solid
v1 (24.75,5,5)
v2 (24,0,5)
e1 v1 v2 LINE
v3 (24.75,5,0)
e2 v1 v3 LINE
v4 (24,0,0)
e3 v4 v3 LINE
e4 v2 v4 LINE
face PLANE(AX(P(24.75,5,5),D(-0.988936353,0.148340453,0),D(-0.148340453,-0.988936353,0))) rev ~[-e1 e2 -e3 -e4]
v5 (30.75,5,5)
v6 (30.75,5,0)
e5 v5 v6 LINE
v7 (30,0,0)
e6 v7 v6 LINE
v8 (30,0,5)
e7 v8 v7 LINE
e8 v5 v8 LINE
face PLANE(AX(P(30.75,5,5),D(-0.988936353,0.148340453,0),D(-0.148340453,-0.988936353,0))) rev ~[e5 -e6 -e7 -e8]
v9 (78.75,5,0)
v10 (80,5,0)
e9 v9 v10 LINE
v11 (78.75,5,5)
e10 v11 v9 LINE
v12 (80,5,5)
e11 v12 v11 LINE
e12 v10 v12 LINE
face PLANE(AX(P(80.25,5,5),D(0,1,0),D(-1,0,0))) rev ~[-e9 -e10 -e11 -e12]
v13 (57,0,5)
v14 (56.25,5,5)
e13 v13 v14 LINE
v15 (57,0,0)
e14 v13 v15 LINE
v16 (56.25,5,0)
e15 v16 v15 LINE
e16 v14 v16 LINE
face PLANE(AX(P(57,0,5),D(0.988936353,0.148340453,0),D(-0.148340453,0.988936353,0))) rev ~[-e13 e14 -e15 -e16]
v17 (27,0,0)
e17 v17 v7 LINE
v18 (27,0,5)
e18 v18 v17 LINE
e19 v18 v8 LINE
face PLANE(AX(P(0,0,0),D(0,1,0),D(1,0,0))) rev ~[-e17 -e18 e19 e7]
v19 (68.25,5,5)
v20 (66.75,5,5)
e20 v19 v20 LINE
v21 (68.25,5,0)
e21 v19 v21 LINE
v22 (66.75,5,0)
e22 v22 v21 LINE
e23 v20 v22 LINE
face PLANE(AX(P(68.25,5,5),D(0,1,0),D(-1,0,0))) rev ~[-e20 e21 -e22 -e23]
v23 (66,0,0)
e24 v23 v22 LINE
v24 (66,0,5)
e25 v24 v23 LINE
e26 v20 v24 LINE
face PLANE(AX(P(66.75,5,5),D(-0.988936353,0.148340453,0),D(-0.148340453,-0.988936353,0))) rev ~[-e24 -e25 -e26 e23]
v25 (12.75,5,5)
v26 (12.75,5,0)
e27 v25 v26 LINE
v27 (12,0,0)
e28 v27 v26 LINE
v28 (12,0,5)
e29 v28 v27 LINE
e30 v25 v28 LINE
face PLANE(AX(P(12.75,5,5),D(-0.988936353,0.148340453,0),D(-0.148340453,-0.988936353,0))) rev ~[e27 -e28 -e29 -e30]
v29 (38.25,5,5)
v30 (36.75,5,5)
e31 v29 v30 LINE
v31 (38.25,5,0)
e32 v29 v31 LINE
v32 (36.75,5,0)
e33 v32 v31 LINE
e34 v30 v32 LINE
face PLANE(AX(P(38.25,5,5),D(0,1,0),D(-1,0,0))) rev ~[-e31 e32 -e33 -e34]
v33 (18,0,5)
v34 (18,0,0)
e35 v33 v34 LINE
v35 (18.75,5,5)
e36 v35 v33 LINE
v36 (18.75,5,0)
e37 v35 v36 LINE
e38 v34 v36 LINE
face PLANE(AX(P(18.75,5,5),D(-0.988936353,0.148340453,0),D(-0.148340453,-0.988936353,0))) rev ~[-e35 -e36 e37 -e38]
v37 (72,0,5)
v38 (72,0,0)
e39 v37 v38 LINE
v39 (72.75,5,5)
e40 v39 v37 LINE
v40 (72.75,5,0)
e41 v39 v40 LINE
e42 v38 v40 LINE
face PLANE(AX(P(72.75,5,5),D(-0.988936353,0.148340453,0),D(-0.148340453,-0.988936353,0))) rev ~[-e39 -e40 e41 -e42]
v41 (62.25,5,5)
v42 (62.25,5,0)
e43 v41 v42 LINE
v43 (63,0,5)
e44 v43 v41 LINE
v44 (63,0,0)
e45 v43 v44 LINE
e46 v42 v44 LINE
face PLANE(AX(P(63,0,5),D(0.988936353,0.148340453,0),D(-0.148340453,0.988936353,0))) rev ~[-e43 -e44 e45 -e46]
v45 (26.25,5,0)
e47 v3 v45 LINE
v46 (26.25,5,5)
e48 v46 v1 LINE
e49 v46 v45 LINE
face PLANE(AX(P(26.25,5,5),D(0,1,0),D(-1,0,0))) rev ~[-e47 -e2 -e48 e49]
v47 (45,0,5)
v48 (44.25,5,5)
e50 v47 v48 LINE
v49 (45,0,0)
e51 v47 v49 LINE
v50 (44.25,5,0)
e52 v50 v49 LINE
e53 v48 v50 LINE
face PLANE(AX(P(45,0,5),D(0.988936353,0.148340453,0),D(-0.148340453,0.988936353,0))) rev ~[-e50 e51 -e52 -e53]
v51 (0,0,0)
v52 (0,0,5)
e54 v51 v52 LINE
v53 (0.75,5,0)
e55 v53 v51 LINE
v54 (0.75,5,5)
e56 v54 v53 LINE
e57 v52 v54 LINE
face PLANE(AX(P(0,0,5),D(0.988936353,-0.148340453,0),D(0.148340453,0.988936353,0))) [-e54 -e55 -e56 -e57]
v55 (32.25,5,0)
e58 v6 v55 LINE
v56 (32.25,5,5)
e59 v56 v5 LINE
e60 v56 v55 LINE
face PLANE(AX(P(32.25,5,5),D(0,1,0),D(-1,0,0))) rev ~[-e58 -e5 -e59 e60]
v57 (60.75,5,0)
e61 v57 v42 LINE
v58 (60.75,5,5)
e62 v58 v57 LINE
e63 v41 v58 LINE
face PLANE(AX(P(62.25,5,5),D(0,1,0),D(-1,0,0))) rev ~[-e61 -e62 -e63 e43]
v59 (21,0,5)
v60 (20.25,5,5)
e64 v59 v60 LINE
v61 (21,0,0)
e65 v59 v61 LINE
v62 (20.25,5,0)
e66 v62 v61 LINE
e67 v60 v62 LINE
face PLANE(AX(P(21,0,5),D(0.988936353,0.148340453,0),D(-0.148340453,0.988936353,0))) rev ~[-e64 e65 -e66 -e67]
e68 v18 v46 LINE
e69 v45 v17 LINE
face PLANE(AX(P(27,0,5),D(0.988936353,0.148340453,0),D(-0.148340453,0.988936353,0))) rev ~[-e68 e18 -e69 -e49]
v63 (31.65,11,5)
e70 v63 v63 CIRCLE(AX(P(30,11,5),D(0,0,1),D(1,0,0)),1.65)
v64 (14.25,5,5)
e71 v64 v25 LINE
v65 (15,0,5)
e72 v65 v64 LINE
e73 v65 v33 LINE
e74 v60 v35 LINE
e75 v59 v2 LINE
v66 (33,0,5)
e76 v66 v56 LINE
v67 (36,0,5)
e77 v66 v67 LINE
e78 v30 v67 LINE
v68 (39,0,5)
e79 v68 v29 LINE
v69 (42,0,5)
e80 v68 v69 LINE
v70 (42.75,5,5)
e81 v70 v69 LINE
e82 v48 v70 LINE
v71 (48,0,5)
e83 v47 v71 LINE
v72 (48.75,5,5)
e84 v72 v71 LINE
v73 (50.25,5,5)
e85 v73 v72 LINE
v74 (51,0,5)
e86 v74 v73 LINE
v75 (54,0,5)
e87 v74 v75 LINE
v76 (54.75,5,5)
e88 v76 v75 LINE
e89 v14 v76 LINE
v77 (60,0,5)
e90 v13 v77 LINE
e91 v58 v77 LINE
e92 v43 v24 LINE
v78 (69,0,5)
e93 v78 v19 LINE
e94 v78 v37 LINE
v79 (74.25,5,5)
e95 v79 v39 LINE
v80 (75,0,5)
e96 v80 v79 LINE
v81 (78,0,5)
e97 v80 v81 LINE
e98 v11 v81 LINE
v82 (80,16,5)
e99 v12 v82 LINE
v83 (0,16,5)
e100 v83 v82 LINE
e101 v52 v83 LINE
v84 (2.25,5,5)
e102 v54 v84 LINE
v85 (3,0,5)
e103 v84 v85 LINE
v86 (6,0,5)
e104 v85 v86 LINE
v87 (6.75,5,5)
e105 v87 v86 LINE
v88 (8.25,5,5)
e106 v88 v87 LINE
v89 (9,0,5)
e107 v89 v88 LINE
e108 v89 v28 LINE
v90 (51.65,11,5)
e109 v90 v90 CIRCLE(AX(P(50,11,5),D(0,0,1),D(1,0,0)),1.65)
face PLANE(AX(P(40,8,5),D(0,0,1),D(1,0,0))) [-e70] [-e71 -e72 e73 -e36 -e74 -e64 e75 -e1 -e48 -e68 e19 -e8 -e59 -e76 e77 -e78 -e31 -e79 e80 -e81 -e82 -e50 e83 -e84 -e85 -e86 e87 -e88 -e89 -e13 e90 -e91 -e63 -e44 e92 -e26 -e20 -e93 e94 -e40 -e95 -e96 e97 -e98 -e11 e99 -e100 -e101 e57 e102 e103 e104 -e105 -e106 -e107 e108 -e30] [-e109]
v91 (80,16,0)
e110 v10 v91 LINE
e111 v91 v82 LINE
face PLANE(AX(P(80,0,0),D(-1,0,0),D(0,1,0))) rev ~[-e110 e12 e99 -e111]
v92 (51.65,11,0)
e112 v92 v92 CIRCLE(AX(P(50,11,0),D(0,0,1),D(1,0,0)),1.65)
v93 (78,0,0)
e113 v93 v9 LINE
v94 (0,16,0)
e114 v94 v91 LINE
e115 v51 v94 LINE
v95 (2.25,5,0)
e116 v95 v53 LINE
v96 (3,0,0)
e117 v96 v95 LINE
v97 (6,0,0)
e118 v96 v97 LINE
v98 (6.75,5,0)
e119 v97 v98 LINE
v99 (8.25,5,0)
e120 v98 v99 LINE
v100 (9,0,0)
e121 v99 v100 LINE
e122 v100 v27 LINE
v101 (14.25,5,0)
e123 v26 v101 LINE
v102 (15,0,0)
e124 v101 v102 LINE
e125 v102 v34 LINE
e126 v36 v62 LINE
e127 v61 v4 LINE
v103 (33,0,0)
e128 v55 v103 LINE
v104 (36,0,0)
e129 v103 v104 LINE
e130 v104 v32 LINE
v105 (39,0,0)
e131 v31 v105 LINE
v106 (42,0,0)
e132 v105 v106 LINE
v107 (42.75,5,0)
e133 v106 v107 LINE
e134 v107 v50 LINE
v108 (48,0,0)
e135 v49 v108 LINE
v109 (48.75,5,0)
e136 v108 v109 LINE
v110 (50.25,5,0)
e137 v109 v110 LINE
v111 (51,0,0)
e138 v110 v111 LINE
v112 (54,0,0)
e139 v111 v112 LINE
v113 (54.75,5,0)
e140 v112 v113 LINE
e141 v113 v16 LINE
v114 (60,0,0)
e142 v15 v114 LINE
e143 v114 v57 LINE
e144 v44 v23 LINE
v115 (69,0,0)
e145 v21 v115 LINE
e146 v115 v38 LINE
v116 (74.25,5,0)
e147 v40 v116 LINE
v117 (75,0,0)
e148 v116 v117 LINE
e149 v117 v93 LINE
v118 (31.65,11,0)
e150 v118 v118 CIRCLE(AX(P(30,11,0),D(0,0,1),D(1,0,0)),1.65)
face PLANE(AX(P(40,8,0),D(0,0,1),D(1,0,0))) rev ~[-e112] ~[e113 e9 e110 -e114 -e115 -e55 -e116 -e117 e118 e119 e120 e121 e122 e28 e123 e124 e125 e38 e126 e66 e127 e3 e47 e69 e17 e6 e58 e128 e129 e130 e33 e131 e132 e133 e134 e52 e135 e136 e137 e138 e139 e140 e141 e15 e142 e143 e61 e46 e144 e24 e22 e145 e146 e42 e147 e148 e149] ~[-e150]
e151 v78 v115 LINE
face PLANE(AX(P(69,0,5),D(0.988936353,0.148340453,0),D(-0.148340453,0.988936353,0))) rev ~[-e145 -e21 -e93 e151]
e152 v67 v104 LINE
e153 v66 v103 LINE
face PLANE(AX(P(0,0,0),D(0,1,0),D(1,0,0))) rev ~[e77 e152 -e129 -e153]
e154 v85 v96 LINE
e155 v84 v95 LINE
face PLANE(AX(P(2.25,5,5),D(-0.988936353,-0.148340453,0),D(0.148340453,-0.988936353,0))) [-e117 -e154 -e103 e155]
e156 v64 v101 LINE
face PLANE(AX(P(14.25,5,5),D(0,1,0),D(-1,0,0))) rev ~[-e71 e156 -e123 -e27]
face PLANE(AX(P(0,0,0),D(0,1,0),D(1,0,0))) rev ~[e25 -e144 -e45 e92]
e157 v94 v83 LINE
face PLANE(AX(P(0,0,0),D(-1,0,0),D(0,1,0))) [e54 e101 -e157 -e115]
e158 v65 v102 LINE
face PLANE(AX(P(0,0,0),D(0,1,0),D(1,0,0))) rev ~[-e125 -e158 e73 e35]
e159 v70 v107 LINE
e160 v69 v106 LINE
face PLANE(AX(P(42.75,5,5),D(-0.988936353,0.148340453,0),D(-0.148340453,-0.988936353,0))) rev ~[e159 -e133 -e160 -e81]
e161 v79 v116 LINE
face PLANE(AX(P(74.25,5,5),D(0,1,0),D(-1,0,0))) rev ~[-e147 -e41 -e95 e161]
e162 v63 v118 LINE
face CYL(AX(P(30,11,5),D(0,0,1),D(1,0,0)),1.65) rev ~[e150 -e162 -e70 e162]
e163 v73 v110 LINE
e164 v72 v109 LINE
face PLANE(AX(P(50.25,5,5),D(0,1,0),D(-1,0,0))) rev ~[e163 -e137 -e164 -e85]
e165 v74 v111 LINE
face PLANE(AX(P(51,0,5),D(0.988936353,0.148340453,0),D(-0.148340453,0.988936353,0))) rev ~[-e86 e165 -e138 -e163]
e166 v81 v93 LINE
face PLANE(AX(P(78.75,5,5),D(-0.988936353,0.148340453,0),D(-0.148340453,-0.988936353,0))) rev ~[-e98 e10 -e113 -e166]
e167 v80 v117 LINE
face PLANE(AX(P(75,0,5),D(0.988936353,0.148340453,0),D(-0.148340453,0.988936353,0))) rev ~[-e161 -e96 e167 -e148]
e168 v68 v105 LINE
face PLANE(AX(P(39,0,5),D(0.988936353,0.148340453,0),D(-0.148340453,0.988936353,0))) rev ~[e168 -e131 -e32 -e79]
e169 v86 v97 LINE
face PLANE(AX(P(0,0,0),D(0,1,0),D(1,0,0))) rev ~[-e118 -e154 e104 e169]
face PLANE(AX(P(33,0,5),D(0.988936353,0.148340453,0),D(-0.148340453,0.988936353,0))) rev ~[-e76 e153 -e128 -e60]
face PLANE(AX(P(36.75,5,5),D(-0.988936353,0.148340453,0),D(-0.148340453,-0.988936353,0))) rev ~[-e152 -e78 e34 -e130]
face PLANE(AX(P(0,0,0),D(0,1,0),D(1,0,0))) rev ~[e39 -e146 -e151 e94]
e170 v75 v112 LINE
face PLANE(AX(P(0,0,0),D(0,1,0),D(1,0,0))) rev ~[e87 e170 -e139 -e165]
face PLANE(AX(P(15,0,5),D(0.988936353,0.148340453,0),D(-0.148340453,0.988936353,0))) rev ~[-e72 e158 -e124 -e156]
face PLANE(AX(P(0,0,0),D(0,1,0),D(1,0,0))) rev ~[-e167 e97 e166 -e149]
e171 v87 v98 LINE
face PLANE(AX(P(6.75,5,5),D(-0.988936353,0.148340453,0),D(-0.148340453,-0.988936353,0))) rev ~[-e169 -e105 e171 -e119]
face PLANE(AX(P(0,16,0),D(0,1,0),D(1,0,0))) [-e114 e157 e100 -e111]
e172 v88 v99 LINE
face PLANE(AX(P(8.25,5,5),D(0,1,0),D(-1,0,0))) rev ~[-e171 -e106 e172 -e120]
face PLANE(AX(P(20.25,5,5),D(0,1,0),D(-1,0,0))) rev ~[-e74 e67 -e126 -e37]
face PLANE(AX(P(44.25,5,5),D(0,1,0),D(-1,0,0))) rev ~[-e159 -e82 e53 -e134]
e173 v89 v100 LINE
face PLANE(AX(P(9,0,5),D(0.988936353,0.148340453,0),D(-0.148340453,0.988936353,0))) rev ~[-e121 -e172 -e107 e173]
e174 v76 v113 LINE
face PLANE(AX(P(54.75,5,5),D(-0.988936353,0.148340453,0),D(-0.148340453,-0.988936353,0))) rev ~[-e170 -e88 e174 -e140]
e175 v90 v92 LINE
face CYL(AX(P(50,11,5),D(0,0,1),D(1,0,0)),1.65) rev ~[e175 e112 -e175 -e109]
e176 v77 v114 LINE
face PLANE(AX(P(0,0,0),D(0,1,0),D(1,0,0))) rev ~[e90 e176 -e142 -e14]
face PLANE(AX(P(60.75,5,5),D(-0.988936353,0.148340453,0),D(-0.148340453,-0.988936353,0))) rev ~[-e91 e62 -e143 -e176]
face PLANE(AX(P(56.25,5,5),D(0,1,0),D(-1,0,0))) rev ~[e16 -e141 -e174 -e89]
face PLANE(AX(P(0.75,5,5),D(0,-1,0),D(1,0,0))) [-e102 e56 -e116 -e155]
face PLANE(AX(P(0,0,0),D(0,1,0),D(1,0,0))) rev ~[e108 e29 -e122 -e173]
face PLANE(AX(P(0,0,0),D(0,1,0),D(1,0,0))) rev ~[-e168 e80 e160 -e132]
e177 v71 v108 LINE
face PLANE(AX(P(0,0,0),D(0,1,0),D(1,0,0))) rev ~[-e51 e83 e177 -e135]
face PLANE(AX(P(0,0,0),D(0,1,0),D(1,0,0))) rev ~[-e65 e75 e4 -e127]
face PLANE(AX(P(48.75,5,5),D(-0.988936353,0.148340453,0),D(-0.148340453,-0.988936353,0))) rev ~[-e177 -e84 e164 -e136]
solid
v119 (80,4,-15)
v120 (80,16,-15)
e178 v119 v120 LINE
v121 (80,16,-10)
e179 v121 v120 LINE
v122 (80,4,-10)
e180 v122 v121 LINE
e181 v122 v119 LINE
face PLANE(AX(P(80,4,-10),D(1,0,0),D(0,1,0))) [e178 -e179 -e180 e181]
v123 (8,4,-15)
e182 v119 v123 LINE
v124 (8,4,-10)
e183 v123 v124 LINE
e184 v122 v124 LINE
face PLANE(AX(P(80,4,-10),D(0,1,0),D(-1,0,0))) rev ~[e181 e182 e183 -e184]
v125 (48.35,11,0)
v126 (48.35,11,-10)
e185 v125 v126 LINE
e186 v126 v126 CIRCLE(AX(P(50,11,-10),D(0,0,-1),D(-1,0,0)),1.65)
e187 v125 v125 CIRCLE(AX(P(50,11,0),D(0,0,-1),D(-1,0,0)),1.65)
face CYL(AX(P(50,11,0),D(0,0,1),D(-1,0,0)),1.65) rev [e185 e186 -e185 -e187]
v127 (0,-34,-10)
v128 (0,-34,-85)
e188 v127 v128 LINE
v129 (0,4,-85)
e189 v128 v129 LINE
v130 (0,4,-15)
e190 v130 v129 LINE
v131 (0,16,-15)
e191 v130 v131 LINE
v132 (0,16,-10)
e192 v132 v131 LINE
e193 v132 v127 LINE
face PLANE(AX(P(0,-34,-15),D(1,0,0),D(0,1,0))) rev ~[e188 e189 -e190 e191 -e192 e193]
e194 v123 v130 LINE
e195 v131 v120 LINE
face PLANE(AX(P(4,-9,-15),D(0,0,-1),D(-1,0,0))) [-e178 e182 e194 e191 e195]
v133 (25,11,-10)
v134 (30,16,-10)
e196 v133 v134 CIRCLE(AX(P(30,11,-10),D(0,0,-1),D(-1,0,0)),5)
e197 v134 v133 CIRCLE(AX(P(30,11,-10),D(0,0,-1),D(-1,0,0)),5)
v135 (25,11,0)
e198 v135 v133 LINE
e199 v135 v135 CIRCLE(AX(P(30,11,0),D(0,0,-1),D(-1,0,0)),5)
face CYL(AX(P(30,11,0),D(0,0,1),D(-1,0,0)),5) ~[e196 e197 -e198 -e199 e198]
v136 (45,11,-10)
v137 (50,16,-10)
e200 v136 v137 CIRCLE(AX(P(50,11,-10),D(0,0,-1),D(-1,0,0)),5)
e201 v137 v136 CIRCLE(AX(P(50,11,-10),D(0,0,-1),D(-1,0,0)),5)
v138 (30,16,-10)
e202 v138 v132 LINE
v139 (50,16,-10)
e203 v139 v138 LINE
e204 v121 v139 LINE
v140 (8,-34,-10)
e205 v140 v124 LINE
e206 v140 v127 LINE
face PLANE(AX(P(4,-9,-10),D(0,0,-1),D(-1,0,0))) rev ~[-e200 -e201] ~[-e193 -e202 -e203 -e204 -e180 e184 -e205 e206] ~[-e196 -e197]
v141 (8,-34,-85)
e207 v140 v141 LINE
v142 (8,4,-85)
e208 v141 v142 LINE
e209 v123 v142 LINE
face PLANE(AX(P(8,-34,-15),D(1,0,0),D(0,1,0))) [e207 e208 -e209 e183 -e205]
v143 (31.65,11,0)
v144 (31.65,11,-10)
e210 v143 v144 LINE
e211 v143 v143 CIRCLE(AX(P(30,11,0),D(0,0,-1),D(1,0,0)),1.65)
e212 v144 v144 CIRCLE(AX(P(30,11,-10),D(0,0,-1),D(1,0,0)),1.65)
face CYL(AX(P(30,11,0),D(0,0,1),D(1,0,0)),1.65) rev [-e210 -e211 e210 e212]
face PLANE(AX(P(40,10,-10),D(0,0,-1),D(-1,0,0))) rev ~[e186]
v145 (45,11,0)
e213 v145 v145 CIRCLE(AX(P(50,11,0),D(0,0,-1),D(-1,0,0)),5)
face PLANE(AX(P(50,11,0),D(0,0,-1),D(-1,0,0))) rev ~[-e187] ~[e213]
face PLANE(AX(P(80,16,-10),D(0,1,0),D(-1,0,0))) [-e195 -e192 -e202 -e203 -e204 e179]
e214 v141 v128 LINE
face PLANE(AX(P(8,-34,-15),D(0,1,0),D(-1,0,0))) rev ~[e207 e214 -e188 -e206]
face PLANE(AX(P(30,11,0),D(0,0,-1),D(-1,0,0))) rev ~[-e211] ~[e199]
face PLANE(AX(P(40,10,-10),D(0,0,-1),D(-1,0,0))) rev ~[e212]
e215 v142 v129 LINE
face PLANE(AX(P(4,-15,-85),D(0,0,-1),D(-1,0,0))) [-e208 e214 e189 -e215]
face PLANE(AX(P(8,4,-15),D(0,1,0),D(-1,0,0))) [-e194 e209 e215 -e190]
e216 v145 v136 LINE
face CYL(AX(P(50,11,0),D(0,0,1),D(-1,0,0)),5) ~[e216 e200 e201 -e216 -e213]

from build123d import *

# Parameters (mm, degrees)
SKETCH_1_W          = 80
SKETCH_1_H          = 16
EXTRUDE_1_DEPTH     = 5
CUT_EXTRUDE_1_REACH = 83.737
CUT_EXTRUDE_2_REACH = 83.737
SKETCH_3_R          = 1.65
SKETCH_4_R          = 5
SKETCH_4_R_2        = 1.65
EXTRUDE_2_DEPTH     = 10
EXTRUDE_2_2_DEPTH   = 10
SKETCH_5_W          = 80
SKETCH_5_H          = 12
EXTRUDE_3_DEPTH     = 5
SKETCH_6_W          = 8
SKETCH_6_H          = 50
EXTRUDE_4_DEPTH     = 5
SKETCH_7_W          = 8
SKETCH_7_H          = 38
EXTRUDE_5_DEPTH     = 70


with BuildPart() as part:
    # ｽｹｯﾁ1 → ﾎﾞｽ - 押し出し1 (new body)
    with BuildSketch(Plane.XY):
        with Locations((40, 8)):
            Rectangle(SKETCH_1_W, SKETCH_1_H)
    extrude(amount=EXTRUDE_1_DEPTH)

    # ｽｹｯﾁ2 → ｶｯﾄ - 押し出し1 (cut, up to next)
    with BuildSketch(Plane.XY.offset(5), mode=Mode.PRIVATE) as cut_extrude_1_sk1:
        Polygon((0, 0), (0.75, 5), (2.25, 5), (3, 0), align=None)
    cut_extrude_1_tool1 = extrude(cut_extrude_1_sk1.sketch, amount=-CUT_EXTRUDE_1_REACH, mode=Mode.PRIVATE) & part.part
    # ｽｹｯﾁ2 → ｶｯﾄ - 押し出し1 (cut, up to next)
    with BuildSketch(Plane.XY.offset(5), mode=Mode.PRIVATE) as cut_extrude_1_sk2:
        Polygon((6, 0), (9, 0), (8.25, 5), (6.75, 5), align=None)
    cut_extrude_1_tool2 = extrude(cut_extrude_1_sk2.sketch, amount=-CUT_EXTRUDE_1_REACH, mode=Mode.PRIVATE) & part.part
    # ｽｹｯﾁ2 → ｶｯﾄ - 押し出し1 (cut, up to next)
    with BuildSketch(Plane.XY.offset(5), mode=Mode.PRIVATE) as cut_extrude_1_sk3:
        Polygon((12, 0), (15, 0), (14.25, 5), (12.75, 5), align=None)
    cut_extrude_1_tool3 = extrude(cut_extrude_1_sk3.sketch, amount=-CUT_EXTRUDE_1_REACH, mode=Mode.PRIVATE) & part.part
    # ｽｹｯﾁ2 → ｶｯﾄ - 押し出し1 (cut, up to next)
    with BuildSketch(Plane.XY.offset(5), mode=Mode.PRIVATE) as cut_extrude_1_sk4:
        Polygon((18, 0), (21, 0), (20.25, 5), (18.75, 5), align=None)
    cut_extrude_1_tool4 = extrude(cut_extrude_1_sk4.sketch, amount=-CUT_EXTRUDE_1_REACH, mode=Mode.PRIVATE) & part.part
    # ｽｹｯﾁ2 → ｶｯﾄ - 押し出し1 (cut, up to next)
    with BuildSketch(Plane.XY.offset(5), mode=Mode.PRIVATE) as cut_extrude_1_sk5:
        Polygon((24, 0), (27, 0), (26.25, 5), (24.75, 5), align=None)
    cut_extrude_1_tool5 = extrude(cut_extrude_1_sk5.sketch, amount=-CUT_EXTRUDE_1_REACH, mode=Mode.PRIVATE) & part.part
    # ｽｹｯﾁ2 → ｶｯﾄ - 押し出し1 (cut, up to next)
    with BuildSketch(Plane.XY.offset(5), mode=Mode.PRIVATE) as cut_extrude_1_sk6:
        Polygon((30, 0), (33, 0), (32.25, 5), (30.75, 5), align=None)
    cut_extrude_1_tool6 = extrude(cut_extrude_1_sk6.sketch, amount=-CUT_EXTRUDE_1_REACH, mode=Mode.PRIVATE) & part.part
    # ｽｹｯﾁ2 → ｶｯﾄ - 押し出し1 (cut, up to next)
    with BuildSketch(Plane.XY.offset(5), mode=Mode.PRIVATE) as cut_extrude_1_sk7:
        Polygon((36, 0), (39, 0), (38.25, 5), (36.75, 5), align=None)
    cut_extrude_1_tool7 = extrude(cut_extrude_1_sk7.sketch, amount=-CUT_EXTRUDE_1_REACH, mode=Mode.PRIVATE) & part.part
    # ｽｹｯﾁ2 → ｶｯﾄ - 押し出し1 (cut, up to next)
    with BuildSketch(Plane.XY.offset(5), mode=Mode.PRIVATE) as cut_extrude_1_sk8:
        Polygon((42, 0), (45, 0), (44.25, 5), (42.75, 5), align=None)
    cut_extrude_1_tool8 = extrude(cut_extrude_1_sk8.sketch, amount=-CUT_EXTRUDE_1_REACH, mode=Mode.PRIVATE) & part.part
    # ｽｹｯﾁ2 → ｶｯﾄ - 押し出し1 (cut, up to next)
    with BuildSketch(Plane.XY.offset(5), mode=Mode.PRIVATE) as cut_extrude_1_sk9:
        Polygon((48, 0), (51, 0), (50.25, 5), (48.75, 5), align=None)
    cut_extrude_1_tool9 = extrude(cut_extrude_1_sk9.sketch, amount=-CUT_EXTRUDE_1_REACH, mode=Mode.PRIVATE) & part.part
    # ｽｹｯﾁ2 → ｶｯﾄ - 押し出し1 (cut, up to next)
    with BuildSketch(Plane.XY.offset(5), mode=Mode.PRIVATE) as cut_extrude_1_sk10:
        Polygon((54, 0), (57, 0), (56.25, 5), (54.75, 5), align=None)
    cut_extrude_1_tool10 = extrude(cut_extrude_1_sk10.sketch, amount=-CUT_EXTRUDE_1_REACH, mode=Mode.PRIVATE) & part.part
    # ｽｹｯﾁ2 → ｶｯﾄ - 押し出し1 (cut, up to next)
    with BuildSketch(Plane.XY.offset(5), mode=Mode.PRIVATE) as cut_extrude_1_sk11:
        Polygon((60, 0), (63, 0), (62.25, 5), (60.75, 5), align=None)
    cut_extrude_1_tool11 = extrude(cut_extrude_1_sk11.sketch, amount=-CUT_EXTRUDE_1_REACH, mode=Mode.PRIVATE) & part.part
    # ｽｹｯﾁ2 → ｶｯﾄ - 押し出し1 (cut, up to next)
    with BuildSketch(Plane.XY.offset(5), mode=Mode.PRIVATE) as cut_extrude_1_sk12:
        Polygon((66, 0), (69, 0), (68.25, 5), (66.75, 5), align=None)
    cut_extrude_1_tool12 = extrude(cut_extrude_1_sk12.sketch, amount=-CUT_EXTRUDE_1_REACH, mode=Mode.PRIVATE) & part.part
    # ｽｹｯﾁ2 → ｶｯﾄ - 押し出し1 (cut, up to next)
    with BuildSketch(Plane.XY.offset(5), mode=Mode.PRIVATE) as cut_extrude_1_sk13:
        Polygon((72, 0), (75, 0), (74.25, 5), (72.75, 5), align=None)
    cut_extrude_1_tool13 = extrude(cut_extrude_1_sk13.sketch, amount=-CUT_EXTRUDE_1_REACH, mode=Mode.PRIVATE) & part.part
    # ｽｹｯﾁ2 → ｶｯﾄ - 押し出し1 (cut, up to next)
    with BuildSketch(Plane.XY.offset(5), mode=Mode.PRIVATE) as cut_extrude_1_sk14:
        Polygon((78, 0), (81, 0), (80.25, 5), (78.75, 5), align=None)
    cut_extrude_1_tool14 = extrude(cut_extrude_1_sk14.sketch, amount=-CUT_EXTRUDE_1_REACH, mode=Mode.PRIVATE) & part.part
    add(cut_extrude_1_tool1.solids().sort_by_distance((1.5, 2.222222, 5))[0], mode=Mode.SUBTRACT)
    add(cut_extrude_1_tool2.solids().sort_by_distance((7.5, 2.222222, 5))[0], mode=Mode.SUBTRACT)
    add(cut_extrude_1_tool3.solids().sort_by_distance((13.5, 2.222222, 5))[0], mode=Mode.SUBTRACT)
    add(cut_extrude_1_tool4.solids().sort_by_distance((19.5, 2.222222, 5))[0], mode=Mode.SUBTRACT)
    add(cut_extrude_1_tool5.solids().sort_by_distance((25.5, 2.222222, 5))[0], mode=Mode.SUBTRACT)
    add(cut_extrude_1_tool6.solids().sort_by_distance((31.5, 2.222222, 5))[0], mode=Mode.SUBTRACT)
    add(cut_extrude_1_tool7.solids().sort_by_distance((37.5, 2.222222, 5))[0], mode=Mode.SUBTRACT)
    add(cut_extrude_1_tool8.solids().sort_by_distance((43.5, 2.222222, 5))[0], mode=Mode.SUBTRACT)
    add(cut_extrude_1_tool9.solids().sort_by_distance((49.5, 2.222222, 5))[0], mode=Mode.SUBTRACT)
    add(cut_extrude_1_tool10.solids().sort_by_distance((55.5, 2.222222, 5))[0], mode=Mode.SUBTRACT)
    add(cut_extrude_1_tool11.solids().sort_by_distance((61.5, 2.222222, 5))[0], mode=Mode.SUBTRACT)
    add(cut_extrude_1_tool12.solids().sort_by_distance((67.5, 2.222222, 5))[0], mode=Mode.SUBTRACT)
    add(cut_extrude_1_tool13.solids().sort_by_distance((73.5, 2.222222, 5))[0], mode=Mode.SUBTRACT)
    add(cut_extrude_1_tool14.solids().sort_by_distance((79.5, 2.222222, 5))[0], mode=Mode.SUBTRACT)

    # ｽｹｯﾁ3 → ｶｯﾄ - 押し出し2 (cut, up to next)
    with BuildSketch(Plane.XY.offset(5), mode=Mode.PRIVATE) as cut_extrude_2_sk1:
        with Locations((30, 11)):
            Circle(SKETCH_3_R)
    cut_extrude_2_tool1 = extrude(cut_extrude_2_sk1.sketch, amount=-CUT_EXTRUDE_2_REACH, mode=Mode.PRIVATE) & part.part
    # ｽｹｯﾁ3 → ｶｯﾄ - 押し出し2 (cut, up to next)
    with BuildSketch(Plane.XY.offset(5), mode=Mode.PRIVATE) as cut_extrude_2_sk2:
        with Locations((50, 11)):
            Circle(SKETCH_3_R)
    cut_extrude_2_tool2 = extrude(cut_extrude_2_sk2.sketch, amount=-CUT_EXTRUDE_2_REACH, mode=Mode.PRIVATE) & part.part
    add(cut_extrude_2_tool1.solids().sort_by_distance((30, 11, 5))[0], mode=Mode.SUBTRACT)
    add(cut_extrude_2_tool2.solids().sort_by_distance((50, 11, 5))[0], mode=Mode.SUBTRACT)


with BuildPart() as body_2:
    # ｽｹｯﾁ4 → ﾎﾞｽ - 押し出し2 (new body)
    with BuildSketch(Plane(origin=(0, 0, 0), x_dir=(-1, 0, 0), z_dir=(0, 0, -1))):
        with Locations((-50, 11)):
            Circle(SKETCH_4_R)
        with Locations((-50, 11)):
            Circle(SKETCH_4_R_2, mode=Mode.SUBTRACT)
    extrude(amount=EXTRUDE_2_DEPTH)



with BuildPart() as body_3:
    # ｽｹｯﾁ4 → Extrude 2 2 (new body)
    with BuildSketch(Plane(origin=(0, 0, 0), x_dir=(-1, 0, 0), z_dir=(0, 0, -1))):
        with Locations((-30, 11)):
            Circle(SKETCH_4_R)
        with Locations(Location((-30, 11, 0), (0, 0, 180))):
            Circle(SKETCH_4_R_2, mode=Mode.SUBTRACT)
    extrude(amount=EXTRUDE_2_2_DEPTH)


with BuildPart() as body_2_1:
    add(body_2.part)

    add(body_3.part)  # ﾎﾞｽ - 押し出し3 merges body 3
    # ｽｹｯﾁ5 → ﾎﾞｽ - 押し出し3 (add)
    with BuildSketch(Plane(origin=(0, 0, -10), x_dir=(-1, 0, 0), z_dir=(0, 0, -1))):
        with Locations((-40, 10)):
            Rectangle(SKETCH_5_W, SKETCH_5_H)
    extrude(amount=EXTRUDE_3_DEPTH)

    # ｽｹｯﾁ6 → ﾎﾞｽ - 押し出し4 (add)
    with BuildSketch(Plane(origin=(0, 0, -15), x_dir=(-1, 0, 0), z_dir=(0, 0, -1))):
        with Locations((-4, -9)):
            Rectangle(SKETCH_6_W, SKETCH_6_H)
    extrude(amount=-EXTRUDE_4_DEPTH)

    # ｽｹｯﾁ7 → ﾎﾞｽ - 押し出し5 (add)
    with BuildSketch(Plane(origin=(0, 0, -15), x_dir=(-1, 0, 0), z_dir=(0, 0, -1))):
        with Locations((-4, -15)):
            Rectangle(SKETCH_7_W, SKETCH_7_H)
    extrude(amount=EXTRUDE_5_DEPTH)


solid = Compound([part.part, body_2_1.part])
